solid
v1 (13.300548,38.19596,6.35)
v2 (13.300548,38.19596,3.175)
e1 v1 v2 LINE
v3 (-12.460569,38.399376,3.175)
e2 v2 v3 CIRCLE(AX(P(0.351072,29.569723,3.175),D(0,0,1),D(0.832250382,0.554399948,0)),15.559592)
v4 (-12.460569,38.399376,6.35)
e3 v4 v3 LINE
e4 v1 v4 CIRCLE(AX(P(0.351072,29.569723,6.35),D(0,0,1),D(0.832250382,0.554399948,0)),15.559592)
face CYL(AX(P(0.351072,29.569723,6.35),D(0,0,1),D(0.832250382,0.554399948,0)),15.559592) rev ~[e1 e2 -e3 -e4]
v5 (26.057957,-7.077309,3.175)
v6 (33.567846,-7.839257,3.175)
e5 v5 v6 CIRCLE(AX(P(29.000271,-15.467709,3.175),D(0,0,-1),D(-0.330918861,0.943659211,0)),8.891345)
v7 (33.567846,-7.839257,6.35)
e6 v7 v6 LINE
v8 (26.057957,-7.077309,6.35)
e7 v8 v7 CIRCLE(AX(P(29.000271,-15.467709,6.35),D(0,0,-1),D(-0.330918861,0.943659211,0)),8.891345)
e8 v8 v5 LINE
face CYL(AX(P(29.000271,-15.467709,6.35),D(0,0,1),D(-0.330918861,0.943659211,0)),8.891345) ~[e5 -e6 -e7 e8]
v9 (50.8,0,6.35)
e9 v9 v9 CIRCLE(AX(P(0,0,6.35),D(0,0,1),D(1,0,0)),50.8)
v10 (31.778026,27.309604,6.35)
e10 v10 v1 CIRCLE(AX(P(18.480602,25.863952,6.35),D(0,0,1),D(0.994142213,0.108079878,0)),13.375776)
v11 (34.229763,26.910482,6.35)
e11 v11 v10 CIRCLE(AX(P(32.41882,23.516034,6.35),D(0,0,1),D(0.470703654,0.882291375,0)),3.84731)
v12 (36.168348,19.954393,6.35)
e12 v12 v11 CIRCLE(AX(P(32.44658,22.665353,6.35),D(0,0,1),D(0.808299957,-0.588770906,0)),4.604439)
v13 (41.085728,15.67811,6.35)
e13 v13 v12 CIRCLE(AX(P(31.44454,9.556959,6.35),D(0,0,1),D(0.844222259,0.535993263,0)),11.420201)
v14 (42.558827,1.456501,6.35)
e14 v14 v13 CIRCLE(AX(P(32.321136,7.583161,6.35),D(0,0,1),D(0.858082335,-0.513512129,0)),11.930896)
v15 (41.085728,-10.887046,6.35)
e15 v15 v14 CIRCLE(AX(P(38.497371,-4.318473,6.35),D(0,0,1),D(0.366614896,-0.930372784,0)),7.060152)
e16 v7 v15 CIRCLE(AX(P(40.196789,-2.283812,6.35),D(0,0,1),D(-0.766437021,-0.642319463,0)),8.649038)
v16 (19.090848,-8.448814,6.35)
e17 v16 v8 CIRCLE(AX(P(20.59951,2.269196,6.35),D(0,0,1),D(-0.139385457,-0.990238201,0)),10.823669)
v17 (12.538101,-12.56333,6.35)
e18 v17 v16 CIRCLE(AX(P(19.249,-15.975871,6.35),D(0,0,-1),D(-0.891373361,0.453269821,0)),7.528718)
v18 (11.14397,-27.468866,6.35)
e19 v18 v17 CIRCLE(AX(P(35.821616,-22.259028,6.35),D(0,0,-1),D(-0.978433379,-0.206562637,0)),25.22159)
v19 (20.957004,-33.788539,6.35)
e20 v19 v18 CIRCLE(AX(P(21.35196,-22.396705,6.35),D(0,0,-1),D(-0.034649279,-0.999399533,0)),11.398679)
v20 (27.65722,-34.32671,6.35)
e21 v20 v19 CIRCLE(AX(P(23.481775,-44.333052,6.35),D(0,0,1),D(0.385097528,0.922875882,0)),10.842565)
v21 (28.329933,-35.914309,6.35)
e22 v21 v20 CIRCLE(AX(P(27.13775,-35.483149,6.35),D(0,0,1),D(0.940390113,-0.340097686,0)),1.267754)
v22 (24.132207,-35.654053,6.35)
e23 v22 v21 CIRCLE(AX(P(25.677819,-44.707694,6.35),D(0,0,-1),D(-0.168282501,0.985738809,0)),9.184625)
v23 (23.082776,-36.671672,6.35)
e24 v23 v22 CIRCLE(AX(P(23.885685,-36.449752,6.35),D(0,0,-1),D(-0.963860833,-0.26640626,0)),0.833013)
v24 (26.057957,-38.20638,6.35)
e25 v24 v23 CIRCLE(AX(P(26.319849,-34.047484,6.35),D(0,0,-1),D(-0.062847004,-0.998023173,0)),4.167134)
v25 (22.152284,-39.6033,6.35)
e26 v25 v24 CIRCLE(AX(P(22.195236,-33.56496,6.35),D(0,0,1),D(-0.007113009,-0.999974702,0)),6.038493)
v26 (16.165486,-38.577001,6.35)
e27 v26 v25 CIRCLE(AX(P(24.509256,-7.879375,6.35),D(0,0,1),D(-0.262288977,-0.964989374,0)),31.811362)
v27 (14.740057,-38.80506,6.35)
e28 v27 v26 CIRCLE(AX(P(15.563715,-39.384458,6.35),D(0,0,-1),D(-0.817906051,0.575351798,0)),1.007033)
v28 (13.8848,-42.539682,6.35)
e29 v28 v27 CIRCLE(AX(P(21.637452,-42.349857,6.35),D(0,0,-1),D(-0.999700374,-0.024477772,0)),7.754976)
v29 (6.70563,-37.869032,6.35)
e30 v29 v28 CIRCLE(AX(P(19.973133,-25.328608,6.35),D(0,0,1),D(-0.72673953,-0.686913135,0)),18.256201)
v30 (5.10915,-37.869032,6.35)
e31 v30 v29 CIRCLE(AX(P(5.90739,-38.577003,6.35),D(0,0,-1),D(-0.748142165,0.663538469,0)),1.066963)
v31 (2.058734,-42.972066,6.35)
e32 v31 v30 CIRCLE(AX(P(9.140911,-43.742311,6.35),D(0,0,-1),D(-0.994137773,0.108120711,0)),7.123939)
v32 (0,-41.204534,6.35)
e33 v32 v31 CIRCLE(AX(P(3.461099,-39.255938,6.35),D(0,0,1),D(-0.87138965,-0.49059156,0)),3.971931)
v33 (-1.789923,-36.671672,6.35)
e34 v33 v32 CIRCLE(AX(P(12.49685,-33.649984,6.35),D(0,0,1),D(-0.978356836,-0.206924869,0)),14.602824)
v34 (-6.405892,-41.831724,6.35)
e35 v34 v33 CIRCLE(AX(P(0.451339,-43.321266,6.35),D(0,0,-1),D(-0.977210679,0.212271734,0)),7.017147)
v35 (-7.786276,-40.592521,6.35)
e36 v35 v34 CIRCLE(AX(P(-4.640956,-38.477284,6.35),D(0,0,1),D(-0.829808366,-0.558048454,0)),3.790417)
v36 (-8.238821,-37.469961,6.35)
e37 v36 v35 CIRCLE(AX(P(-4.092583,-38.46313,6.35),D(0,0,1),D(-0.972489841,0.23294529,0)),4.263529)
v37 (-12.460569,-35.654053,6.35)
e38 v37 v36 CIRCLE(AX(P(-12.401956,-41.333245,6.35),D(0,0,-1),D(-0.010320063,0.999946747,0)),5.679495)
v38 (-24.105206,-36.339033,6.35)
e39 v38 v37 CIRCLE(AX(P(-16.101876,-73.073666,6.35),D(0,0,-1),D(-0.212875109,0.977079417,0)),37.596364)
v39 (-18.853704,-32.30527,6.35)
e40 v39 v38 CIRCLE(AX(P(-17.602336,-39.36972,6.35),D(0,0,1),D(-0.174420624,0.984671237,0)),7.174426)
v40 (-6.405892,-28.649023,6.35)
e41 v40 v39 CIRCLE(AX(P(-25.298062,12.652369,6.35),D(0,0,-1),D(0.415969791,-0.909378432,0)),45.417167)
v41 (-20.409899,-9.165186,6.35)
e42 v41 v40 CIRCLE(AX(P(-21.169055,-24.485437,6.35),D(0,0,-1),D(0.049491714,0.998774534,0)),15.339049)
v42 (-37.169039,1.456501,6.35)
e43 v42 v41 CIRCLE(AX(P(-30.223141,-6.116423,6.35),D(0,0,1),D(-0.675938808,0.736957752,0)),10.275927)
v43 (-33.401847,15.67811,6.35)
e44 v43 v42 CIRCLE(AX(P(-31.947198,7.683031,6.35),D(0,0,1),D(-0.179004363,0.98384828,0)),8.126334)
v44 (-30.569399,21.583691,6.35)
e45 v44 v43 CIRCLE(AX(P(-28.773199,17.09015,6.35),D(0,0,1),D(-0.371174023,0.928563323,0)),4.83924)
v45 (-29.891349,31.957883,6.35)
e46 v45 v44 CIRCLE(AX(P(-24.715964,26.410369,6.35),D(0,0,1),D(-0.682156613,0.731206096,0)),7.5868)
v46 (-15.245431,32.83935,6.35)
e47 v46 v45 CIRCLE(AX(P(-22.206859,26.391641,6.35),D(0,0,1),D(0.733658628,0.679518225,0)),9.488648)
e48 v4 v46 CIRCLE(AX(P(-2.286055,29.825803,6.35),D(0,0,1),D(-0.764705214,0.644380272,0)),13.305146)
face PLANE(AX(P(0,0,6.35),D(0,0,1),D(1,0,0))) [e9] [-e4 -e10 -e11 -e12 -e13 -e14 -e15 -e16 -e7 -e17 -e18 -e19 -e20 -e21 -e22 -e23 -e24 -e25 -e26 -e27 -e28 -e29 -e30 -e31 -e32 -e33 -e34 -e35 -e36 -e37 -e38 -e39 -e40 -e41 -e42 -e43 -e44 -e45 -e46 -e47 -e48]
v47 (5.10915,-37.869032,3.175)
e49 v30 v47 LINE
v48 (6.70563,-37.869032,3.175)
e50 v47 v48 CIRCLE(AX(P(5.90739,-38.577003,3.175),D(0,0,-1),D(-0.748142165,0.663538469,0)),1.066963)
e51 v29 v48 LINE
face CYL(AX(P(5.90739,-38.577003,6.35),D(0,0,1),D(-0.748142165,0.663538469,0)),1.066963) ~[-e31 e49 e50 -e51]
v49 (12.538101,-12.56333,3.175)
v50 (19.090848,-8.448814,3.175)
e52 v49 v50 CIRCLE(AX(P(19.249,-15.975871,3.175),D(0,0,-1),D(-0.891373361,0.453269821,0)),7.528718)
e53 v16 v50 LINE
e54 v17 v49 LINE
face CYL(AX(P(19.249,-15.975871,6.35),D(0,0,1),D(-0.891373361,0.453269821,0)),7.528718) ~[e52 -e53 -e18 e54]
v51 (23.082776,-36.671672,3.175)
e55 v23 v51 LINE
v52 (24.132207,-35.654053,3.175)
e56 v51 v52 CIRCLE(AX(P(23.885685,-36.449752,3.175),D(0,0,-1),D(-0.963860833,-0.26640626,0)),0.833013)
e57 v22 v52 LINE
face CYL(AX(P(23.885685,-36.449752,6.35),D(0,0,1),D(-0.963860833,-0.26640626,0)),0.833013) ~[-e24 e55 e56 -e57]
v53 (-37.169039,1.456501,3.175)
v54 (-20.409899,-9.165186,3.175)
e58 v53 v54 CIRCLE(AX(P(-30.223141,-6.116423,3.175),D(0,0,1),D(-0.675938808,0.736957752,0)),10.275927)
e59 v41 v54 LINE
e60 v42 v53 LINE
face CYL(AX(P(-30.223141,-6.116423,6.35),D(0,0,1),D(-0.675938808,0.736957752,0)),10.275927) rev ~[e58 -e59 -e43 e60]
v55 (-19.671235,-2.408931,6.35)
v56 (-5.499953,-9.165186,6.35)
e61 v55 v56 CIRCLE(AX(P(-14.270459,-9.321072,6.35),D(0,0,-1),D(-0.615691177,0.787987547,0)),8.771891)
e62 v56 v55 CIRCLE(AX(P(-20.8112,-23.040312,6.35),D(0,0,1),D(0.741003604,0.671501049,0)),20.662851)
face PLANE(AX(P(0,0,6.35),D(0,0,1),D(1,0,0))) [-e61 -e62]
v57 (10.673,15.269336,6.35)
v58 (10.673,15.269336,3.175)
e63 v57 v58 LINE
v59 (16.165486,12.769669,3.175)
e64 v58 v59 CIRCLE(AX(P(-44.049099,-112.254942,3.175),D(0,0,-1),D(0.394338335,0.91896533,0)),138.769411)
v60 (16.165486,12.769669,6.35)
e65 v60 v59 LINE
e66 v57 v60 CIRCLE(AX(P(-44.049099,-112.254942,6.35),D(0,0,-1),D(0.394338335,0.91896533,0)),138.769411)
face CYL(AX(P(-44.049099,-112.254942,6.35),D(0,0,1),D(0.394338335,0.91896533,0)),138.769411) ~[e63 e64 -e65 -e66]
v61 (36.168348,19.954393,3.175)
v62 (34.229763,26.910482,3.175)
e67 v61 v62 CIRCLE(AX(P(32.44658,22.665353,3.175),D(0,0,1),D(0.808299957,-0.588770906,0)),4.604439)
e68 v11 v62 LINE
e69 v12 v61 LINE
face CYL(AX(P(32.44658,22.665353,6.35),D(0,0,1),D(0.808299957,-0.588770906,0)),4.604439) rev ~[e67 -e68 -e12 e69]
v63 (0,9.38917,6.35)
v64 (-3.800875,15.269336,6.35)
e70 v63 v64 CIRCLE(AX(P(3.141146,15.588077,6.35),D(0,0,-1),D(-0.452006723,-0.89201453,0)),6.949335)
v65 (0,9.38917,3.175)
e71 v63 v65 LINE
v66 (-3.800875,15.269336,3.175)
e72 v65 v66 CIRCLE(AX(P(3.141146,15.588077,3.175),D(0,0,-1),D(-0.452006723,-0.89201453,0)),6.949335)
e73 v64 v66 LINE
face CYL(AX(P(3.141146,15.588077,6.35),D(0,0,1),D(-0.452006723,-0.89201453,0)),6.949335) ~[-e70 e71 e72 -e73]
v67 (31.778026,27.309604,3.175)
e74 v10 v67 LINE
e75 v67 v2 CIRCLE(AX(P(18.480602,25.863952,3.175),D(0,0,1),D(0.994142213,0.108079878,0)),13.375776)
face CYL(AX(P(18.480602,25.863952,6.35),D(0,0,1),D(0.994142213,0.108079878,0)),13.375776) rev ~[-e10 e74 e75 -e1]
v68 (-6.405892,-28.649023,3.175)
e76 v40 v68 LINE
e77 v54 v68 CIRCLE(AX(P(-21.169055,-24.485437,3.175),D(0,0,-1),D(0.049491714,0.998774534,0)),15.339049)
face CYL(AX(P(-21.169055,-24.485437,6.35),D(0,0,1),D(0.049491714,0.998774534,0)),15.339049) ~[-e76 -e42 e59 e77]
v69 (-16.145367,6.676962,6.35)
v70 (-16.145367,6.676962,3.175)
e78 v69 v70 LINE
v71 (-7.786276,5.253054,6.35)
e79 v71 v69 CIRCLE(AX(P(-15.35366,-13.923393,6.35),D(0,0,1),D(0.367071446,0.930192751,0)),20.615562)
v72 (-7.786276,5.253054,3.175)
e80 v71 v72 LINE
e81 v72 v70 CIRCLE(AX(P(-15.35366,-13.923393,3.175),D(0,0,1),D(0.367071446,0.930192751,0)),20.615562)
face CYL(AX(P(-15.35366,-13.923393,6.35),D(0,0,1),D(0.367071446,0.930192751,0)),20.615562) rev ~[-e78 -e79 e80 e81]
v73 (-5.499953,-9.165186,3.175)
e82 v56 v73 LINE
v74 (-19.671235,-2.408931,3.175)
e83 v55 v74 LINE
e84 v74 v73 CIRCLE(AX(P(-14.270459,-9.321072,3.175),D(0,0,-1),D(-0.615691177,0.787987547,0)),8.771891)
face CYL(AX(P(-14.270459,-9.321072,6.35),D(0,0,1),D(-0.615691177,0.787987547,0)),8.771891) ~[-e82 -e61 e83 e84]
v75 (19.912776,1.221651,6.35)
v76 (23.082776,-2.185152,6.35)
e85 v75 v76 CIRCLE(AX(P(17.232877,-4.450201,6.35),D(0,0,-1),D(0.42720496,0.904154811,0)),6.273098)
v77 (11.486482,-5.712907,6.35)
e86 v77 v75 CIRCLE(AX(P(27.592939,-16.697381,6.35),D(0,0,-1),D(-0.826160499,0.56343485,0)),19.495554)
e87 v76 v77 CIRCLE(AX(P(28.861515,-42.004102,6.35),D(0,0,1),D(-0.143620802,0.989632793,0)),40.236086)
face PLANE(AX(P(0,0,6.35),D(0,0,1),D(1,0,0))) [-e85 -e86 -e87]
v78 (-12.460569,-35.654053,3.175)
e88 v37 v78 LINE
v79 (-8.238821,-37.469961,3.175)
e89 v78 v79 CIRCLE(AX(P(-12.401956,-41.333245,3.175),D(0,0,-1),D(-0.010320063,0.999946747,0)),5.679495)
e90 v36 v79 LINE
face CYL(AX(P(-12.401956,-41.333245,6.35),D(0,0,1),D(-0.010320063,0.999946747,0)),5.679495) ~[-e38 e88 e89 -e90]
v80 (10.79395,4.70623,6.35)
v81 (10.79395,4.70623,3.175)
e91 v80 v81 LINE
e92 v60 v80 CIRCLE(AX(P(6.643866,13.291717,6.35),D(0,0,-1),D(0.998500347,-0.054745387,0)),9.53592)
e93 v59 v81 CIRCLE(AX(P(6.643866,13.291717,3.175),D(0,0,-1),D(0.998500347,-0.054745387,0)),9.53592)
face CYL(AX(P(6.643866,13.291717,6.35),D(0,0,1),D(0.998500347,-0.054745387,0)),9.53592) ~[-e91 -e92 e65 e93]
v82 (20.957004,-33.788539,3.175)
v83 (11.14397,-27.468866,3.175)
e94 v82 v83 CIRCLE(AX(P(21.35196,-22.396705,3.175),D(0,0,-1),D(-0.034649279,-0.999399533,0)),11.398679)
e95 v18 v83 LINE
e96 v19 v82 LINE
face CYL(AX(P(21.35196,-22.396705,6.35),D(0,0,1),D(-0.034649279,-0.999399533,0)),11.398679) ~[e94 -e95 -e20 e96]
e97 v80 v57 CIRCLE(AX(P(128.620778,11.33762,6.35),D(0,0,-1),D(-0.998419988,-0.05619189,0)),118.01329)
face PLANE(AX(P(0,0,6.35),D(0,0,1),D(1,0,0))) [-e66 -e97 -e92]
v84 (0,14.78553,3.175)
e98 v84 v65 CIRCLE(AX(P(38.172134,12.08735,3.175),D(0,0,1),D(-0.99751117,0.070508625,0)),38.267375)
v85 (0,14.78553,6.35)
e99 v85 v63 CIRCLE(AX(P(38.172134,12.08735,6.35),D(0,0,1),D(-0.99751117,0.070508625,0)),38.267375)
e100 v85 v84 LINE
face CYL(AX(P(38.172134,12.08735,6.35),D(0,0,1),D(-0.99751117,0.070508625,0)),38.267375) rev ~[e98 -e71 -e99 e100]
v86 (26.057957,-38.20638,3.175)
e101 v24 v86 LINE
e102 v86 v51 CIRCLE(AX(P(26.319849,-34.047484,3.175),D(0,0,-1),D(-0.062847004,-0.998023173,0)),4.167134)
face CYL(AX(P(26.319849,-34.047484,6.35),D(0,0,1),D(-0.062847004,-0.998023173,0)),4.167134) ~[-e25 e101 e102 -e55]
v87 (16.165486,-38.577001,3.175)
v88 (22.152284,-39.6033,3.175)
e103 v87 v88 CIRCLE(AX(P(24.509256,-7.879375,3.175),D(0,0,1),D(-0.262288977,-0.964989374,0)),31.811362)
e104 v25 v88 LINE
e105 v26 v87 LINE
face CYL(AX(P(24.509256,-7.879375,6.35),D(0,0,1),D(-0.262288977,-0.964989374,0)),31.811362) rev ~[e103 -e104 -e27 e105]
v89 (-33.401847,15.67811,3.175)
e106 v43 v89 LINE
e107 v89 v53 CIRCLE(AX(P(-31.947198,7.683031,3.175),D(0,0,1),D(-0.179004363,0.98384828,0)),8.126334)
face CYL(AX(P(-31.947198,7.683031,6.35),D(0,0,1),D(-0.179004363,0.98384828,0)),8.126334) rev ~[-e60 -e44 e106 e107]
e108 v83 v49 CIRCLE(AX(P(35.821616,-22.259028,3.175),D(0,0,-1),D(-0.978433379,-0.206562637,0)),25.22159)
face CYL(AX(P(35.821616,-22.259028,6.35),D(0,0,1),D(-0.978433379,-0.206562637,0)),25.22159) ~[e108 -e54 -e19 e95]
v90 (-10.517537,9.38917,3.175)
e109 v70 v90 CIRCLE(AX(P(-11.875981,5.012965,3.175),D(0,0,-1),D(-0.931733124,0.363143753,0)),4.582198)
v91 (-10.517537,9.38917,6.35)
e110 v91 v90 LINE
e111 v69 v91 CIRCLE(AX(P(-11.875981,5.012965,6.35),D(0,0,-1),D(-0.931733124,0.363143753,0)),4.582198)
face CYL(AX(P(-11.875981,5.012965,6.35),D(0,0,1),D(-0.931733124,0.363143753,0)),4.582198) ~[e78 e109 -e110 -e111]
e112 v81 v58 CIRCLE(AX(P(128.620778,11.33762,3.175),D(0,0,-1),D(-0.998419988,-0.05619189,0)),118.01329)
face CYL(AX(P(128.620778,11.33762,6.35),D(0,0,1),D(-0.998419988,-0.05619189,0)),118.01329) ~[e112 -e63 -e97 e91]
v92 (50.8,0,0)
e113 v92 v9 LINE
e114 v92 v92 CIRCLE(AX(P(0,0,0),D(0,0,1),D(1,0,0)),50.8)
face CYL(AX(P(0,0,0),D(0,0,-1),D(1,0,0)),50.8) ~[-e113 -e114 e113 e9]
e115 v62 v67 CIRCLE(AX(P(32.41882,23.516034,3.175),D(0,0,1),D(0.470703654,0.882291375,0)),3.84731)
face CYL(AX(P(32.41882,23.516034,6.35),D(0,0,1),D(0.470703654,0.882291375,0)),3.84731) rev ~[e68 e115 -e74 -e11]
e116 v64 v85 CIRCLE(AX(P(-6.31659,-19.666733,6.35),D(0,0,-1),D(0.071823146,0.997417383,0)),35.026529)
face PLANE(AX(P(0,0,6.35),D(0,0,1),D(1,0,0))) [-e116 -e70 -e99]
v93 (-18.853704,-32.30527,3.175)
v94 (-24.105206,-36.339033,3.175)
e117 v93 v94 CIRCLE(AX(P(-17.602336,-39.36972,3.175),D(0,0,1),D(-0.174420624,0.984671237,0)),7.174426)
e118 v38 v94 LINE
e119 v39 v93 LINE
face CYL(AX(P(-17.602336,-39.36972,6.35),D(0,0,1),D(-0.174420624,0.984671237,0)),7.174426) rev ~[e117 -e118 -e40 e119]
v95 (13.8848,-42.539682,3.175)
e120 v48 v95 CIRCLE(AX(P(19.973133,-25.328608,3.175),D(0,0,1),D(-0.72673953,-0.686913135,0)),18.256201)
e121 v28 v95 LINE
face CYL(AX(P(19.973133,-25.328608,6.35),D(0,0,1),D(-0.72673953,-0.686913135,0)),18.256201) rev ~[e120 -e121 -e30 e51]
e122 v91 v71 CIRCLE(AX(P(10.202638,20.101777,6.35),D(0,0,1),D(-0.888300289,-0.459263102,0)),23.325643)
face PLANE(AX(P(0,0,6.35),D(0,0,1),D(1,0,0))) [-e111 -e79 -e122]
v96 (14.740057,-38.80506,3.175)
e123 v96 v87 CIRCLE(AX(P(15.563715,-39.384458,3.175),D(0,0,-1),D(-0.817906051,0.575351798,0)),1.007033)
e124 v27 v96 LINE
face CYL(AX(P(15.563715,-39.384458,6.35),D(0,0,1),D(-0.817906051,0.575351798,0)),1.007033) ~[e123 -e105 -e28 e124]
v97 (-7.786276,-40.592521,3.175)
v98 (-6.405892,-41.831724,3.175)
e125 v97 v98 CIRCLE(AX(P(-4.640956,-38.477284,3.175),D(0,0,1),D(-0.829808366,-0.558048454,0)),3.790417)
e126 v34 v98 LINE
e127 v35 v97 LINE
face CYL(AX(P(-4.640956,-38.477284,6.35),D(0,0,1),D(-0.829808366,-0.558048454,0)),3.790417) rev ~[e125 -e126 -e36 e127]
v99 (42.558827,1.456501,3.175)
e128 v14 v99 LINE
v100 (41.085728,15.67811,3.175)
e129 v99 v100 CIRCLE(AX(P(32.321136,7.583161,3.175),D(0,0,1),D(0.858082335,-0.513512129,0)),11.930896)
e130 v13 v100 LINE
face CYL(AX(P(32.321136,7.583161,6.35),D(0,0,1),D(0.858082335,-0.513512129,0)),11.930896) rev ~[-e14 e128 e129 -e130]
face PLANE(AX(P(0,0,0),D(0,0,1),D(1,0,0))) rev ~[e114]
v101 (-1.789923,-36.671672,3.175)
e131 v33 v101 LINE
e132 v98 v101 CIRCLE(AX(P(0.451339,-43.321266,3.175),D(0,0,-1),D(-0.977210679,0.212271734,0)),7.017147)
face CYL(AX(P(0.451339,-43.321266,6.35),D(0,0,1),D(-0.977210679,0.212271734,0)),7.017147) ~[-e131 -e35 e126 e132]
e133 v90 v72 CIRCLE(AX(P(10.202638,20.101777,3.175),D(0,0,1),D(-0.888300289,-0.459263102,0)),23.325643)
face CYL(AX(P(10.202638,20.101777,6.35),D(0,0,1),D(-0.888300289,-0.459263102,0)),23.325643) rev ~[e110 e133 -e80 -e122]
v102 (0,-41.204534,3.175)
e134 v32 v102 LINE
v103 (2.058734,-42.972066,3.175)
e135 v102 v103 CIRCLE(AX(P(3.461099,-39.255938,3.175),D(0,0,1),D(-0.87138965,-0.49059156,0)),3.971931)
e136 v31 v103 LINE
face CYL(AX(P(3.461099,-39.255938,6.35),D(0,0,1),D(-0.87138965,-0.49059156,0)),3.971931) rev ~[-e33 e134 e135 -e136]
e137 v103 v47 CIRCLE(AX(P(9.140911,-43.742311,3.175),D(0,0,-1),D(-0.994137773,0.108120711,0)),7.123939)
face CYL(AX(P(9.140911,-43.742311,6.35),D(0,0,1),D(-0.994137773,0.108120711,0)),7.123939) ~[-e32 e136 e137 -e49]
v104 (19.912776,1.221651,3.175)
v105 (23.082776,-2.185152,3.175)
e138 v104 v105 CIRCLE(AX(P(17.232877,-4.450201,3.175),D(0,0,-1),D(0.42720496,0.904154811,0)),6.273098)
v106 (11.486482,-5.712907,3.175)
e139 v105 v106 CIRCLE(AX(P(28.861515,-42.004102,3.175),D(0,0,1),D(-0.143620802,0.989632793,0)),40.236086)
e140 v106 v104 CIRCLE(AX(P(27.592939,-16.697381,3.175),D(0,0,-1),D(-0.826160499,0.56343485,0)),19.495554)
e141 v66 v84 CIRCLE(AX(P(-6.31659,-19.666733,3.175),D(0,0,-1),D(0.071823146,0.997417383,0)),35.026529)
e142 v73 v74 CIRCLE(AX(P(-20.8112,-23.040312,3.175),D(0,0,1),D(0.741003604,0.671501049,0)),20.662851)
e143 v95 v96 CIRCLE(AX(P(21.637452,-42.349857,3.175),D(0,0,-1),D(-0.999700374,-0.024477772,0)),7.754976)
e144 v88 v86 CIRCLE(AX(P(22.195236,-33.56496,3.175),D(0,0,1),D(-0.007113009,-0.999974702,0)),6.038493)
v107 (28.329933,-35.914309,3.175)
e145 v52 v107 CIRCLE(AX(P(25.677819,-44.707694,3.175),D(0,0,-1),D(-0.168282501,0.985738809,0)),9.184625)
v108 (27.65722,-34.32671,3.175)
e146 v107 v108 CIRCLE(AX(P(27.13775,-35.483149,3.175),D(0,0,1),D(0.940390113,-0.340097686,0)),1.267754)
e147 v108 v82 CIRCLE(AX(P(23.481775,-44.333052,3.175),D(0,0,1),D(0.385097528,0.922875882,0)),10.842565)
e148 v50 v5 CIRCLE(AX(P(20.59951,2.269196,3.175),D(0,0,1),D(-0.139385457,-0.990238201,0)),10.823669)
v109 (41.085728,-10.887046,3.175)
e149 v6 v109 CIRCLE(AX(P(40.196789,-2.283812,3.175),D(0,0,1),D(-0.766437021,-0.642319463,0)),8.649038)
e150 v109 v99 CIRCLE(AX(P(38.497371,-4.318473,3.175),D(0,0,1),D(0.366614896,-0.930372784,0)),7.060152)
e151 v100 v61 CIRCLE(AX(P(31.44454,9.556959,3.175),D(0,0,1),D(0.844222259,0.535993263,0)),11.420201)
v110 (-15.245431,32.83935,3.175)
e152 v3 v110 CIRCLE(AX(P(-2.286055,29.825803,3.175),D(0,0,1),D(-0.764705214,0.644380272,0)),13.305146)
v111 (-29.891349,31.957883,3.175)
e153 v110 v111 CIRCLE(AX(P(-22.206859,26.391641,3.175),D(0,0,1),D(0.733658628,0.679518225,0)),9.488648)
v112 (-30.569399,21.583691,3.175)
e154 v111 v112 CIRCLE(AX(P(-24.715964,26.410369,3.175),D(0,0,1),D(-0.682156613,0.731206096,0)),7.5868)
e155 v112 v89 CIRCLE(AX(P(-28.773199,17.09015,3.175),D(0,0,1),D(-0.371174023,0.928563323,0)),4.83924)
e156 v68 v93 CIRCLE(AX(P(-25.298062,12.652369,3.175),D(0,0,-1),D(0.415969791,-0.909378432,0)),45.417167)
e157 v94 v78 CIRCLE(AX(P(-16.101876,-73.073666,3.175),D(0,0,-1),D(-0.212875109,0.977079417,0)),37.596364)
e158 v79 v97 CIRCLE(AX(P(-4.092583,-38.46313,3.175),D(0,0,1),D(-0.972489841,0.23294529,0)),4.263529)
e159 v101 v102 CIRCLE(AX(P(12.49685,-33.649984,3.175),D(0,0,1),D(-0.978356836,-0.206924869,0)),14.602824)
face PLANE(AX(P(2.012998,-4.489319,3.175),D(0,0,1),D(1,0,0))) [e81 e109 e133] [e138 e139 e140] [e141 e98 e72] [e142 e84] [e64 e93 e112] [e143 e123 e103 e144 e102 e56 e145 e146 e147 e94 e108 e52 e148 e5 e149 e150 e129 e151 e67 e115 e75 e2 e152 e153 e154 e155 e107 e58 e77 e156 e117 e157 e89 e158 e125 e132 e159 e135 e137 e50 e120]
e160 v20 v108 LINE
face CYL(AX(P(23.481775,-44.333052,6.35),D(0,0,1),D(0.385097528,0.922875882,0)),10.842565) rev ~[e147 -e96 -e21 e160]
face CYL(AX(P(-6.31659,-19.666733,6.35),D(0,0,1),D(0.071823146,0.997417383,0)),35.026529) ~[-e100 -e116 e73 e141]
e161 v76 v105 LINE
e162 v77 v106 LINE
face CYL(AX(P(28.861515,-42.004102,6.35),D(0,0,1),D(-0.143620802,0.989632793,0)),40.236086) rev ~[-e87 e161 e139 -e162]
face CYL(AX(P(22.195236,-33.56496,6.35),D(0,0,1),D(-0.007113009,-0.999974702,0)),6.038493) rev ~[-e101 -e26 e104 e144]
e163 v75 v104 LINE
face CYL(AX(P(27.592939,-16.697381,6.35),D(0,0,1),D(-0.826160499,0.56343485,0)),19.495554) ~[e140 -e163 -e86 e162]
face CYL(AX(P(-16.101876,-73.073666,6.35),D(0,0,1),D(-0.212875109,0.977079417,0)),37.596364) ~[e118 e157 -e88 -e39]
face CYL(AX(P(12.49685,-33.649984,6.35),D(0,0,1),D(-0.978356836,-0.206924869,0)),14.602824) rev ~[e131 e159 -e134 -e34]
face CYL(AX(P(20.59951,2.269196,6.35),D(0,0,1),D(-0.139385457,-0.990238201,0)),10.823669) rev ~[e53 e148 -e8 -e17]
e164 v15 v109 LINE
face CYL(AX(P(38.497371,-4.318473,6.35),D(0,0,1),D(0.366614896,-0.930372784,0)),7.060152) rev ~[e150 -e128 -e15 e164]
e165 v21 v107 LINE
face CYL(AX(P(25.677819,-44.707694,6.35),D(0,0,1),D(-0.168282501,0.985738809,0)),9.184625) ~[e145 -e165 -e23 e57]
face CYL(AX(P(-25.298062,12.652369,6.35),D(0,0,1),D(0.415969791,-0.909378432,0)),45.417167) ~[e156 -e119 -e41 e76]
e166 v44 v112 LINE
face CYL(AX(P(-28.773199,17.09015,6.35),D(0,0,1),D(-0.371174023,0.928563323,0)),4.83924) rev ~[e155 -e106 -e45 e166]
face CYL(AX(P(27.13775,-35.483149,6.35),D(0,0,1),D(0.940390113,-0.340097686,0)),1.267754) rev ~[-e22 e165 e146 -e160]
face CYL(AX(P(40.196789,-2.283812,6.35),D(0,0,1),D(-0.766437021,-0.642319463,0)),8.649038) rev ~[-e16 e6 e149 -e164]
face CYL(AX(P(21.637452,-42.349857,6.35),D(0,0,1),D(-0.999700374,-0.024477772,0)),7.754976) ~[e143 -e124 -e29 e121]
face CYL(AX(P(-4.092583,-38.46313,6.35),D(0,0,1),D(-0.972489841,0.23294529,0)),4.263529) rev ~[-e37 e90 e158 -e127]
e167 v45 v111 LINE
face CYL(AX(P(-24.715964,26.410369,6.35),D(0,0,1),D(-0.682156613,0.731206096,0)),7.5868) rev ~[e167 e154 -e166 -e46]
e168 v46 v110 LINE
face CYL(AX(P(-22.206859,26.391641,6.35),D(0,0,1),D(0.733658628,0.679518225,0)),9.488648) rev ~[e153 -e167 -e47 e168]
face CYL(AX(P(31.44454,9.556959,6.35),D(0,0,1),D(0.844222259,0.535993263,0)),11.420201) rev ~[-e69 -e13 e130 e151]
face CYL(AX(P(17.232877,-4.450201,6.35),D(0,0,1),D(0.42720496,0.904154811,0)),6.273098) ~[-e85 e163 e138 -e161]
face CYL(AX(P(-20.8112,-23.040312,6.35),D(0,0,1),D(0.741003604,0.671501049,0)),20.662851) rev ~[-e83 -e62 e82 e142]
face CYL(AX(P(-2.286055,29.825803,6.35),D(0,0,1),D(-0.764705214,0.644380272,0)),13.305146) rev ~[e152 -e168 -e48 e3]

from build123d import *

# Parameters (mm, degrees)
F0_R     = 50.8
F1_DEPTH = 6.35
F3_DEPTH = 3.175


with BuildPart() as f1:
    # F0 (on Top) → F1 (new body)
    with BuildSketch(Plane.XY):
        Circle(F0_R)
    extrude(amount=F1_DEPTH)

    # F2 (on face) → F3 (cut)
    with BuildSketch(Plane.XY.offset(6.35)):
        with BuildLine():
            ThreePointArc((-20.409899, -9.165186), (-8.713511, -15.533016), (-6.405892, -28.649023))
            ThreePointArc((-6.405892, -28.649023), (-12.498571, -30.92391), (-18.853704, -32.30527))
            ThreePointArc((-18.853704, -32.30527), (-21.972675, -33.680035), (-24.105206, -36.339033))
            ThreePointArc((-24.105206, -36.339033), (-18.309615, -35.54218), (-12.460569, -35.654053))
            ThreePointArc((-12.460569, -35.654053), (-10.157818, -36.115918), (-8.238821, -37.469961))
            ThreePointArc((-8.238821, -37.469961), (-8.312029, -39.074644), (-7.786276, -40.592521))
            ThreePointArc((-7.786276, -40.592521), (-7.173062, -41.29787), (-6.405892, -41.831724))
            ThreePointArc((-6.405892, -41.831724), (-4.778592, -38.642786), (-1.789923, -36.671672))
            ThreePointArc((-1.789923, -36.671672), (-1.085393, -39.0133), (0, -41.204534))
            ThreePointArc((0, -41.204534), (0.873752, -42.269552), (2.058734, -42.972066))
            ThreePointArc((2.058734, -42.972066), (3.026163, -40.087128), (5.10915, -37.869032))
            ThreePointArc((5.10915, -37.869032), (5.90739, -37.51004), (6.70563, -37.869032))
            ThreePointArc((6.70563, -37.869032), (10.017439, -40.631321), (13.8848, -42.539682))
            ThreePointArc((13.8848, -42.539682), (14.078165, -40.618723), (14.740057, -38.80506))
            ThreePointArc((14.740057, -38.80506), (15.40462, -38.390072), (16.165486, -38.577001))
            ThreePointArc((16.165486, -38.577001), (19.134333, -39.233369), (22.152284, -39.6033))
            ThreePointArc((22.152284, -39.6033), (24.22883, -39.250722), (26.057957, -38.20638))
            ThreePointArc((26.057957, -38.20638), (24.409477, -37.750926), (23.082776, -36.671672))
            ThreePointArc((23.082776, -36.671672), (23.305789, -35.851729), (24.132207, -35.654053))
            ThreePointArc((24.132207, -35.654053), (26.246167, -35.540671), (28.329933, -35.914309))
            ThreePointArc((28.329933, -35.914309), (28.305036, -34.988535), (27.65722, -34.32671))
            ThreePointArc((27.65722, -34.32671), (24.34987, -33.525294), (20.957004, -33.788539))
            ThreePointArc((20.957004, -33.788539), (15.180236, -31.980008), (11.14397, -27.468866))
            ThreePointArc((11.14397, -27.468866), (10.709627, -19.910276), (12.538101, -12.56333))
            ThreePointArc((12.538101, -12.56333), (15.245467, -9.599875), (19.090848, -8.448814))
            ThreePointArc((19.090848, -8.448814), (22.690074, -8.35066), (26.057957, -7.077309))
            ThreePointArc((26.057957, -7.077309), (29.897773, -6.621777), (33.567846, -7.839257))
            ThreePointArc((33.567846, -7.839257), (36.947302, -10.299215), (41.085728, -10.887046))
            ThreePointArc((41.085728, -10.887046), (45.507777, -5.155106), (42.558827, 1.456501))
            ThreePointArc((42.558827, 1.456501), (44.188538, 8.812407), (41.085728, 15.67811))
            ThreePointArc((41.085728, 15.67811), (38.938533, 18.174445), (36.168348, 19.954393))
            ThreePointArc((36.168348, 19.954393), (36.881996, 23.901454), (34.229763, 26.910482))
            ThreePointArc((34.229763, 26.910482), (33.036992, 27.313356), (31.778026, 27.309604))
            ThreePointArc((31.778026, 27.309604), (25.270382, 37.388286), (13.300548, 38.19596))
            ThreePointArc((13.300548, 38.19596), (0.47393, 45.12883), (-12.460569, 38.399376))
            ThreePointArc((-12.460569, 38.399376), (-14.182386, 35.784343), (-15.245431, 32.83935))
            ThreePointArc((-15.245431, 32.83935), (-22.776904, 35.86315), (-29.891349, 31.957883))
            ThreePointArc((-29.891349, 31.957883), (-32.28661, 26.905181), (-30.569399, 21.583691))
            ThreePointArc((-30.569399, 21.583691), (-33.136528, 19.1829), (-33.401847, 15.67811))
            ThreePointArc((-33.401847, 15.67811), (-39.802605, 9.763866), (-37.169039, 1.456501))
            ThreePointArc((-37.169039, 1.456501), (-35.724093, -14.795951), (-20.409899, -9.165186))
        make_face()
        with BuildLine():
            ThreePointArc((-19.671235, -2.408931), (-10.495474, -1.403019), (-5.499953, -9.165186))
            ThreePointArc((-5.499953, -9.165186), (-11.918937, -4.388742), (-19.671235, -2.408931))
        make_face(mode=Mode.SUBTRACT)
        with BuildLine():
            ThreePointArc((11.486482, -5.712907), (15.204523, -1.644017), (19.912776, 1.221651))
            ThreePointArc((19.912776, 1.221651), (21.825364, -0.176932), (23.082776, -2.185152))
            ThreePointArc((23.082776, -2.185152), (17.151026, -3.509855), (11.486482, -5.712907))
        make_face(mode=Mode.SUBTRACT)
        with BuildLine():
            ThreePointArc((-10.517537, 9.38917), (-9.26208, 7.248359), (-7.786276, 5.253054))
            ThreePointArc((-7.786276, 5.253054), (-11.891821, 6.399429), (-16.145367, 6.676962))
            ThreePointArc((-16.145367, 6.676962), (-13.865306, 9.140813), (-10.517537, 9.38917))
        make_face(mode=Mode.SUBTRACT)
        with BuildLine():
            ThreePointArc((0, 9.38917), (-2.69509, 11.815598), (-3.800875, 15.269336))
            ThreePointArc((-3.800875, 15.269336), (-1.893817, 15.079444), (0, 14.78553))
            ThreePointArc((0, 14.78553), (-0.095241, 12.08735), (0, 9.38917))
        make_face(mode=Mode.SUBTRACT)
        with BuildLine():
            ThreePointArc((10.79395, 4.70623), (10.615223, 9.986429), (10.673, 15.269336))
            ThreePointArc((10.673, 15.269336), (13.432832, 14.049362), (16.165486, 12.769669))
            ThreePointArc((16.165486, 12.769669), (14.580089, 8.004927), (10.79395, 4.70623))
        make_face(mode=Mode.SUBTRACT)
    extrude(amount=-F3_DEPTH, mode=Mode.SUBTRACT)


solid = f1.part
